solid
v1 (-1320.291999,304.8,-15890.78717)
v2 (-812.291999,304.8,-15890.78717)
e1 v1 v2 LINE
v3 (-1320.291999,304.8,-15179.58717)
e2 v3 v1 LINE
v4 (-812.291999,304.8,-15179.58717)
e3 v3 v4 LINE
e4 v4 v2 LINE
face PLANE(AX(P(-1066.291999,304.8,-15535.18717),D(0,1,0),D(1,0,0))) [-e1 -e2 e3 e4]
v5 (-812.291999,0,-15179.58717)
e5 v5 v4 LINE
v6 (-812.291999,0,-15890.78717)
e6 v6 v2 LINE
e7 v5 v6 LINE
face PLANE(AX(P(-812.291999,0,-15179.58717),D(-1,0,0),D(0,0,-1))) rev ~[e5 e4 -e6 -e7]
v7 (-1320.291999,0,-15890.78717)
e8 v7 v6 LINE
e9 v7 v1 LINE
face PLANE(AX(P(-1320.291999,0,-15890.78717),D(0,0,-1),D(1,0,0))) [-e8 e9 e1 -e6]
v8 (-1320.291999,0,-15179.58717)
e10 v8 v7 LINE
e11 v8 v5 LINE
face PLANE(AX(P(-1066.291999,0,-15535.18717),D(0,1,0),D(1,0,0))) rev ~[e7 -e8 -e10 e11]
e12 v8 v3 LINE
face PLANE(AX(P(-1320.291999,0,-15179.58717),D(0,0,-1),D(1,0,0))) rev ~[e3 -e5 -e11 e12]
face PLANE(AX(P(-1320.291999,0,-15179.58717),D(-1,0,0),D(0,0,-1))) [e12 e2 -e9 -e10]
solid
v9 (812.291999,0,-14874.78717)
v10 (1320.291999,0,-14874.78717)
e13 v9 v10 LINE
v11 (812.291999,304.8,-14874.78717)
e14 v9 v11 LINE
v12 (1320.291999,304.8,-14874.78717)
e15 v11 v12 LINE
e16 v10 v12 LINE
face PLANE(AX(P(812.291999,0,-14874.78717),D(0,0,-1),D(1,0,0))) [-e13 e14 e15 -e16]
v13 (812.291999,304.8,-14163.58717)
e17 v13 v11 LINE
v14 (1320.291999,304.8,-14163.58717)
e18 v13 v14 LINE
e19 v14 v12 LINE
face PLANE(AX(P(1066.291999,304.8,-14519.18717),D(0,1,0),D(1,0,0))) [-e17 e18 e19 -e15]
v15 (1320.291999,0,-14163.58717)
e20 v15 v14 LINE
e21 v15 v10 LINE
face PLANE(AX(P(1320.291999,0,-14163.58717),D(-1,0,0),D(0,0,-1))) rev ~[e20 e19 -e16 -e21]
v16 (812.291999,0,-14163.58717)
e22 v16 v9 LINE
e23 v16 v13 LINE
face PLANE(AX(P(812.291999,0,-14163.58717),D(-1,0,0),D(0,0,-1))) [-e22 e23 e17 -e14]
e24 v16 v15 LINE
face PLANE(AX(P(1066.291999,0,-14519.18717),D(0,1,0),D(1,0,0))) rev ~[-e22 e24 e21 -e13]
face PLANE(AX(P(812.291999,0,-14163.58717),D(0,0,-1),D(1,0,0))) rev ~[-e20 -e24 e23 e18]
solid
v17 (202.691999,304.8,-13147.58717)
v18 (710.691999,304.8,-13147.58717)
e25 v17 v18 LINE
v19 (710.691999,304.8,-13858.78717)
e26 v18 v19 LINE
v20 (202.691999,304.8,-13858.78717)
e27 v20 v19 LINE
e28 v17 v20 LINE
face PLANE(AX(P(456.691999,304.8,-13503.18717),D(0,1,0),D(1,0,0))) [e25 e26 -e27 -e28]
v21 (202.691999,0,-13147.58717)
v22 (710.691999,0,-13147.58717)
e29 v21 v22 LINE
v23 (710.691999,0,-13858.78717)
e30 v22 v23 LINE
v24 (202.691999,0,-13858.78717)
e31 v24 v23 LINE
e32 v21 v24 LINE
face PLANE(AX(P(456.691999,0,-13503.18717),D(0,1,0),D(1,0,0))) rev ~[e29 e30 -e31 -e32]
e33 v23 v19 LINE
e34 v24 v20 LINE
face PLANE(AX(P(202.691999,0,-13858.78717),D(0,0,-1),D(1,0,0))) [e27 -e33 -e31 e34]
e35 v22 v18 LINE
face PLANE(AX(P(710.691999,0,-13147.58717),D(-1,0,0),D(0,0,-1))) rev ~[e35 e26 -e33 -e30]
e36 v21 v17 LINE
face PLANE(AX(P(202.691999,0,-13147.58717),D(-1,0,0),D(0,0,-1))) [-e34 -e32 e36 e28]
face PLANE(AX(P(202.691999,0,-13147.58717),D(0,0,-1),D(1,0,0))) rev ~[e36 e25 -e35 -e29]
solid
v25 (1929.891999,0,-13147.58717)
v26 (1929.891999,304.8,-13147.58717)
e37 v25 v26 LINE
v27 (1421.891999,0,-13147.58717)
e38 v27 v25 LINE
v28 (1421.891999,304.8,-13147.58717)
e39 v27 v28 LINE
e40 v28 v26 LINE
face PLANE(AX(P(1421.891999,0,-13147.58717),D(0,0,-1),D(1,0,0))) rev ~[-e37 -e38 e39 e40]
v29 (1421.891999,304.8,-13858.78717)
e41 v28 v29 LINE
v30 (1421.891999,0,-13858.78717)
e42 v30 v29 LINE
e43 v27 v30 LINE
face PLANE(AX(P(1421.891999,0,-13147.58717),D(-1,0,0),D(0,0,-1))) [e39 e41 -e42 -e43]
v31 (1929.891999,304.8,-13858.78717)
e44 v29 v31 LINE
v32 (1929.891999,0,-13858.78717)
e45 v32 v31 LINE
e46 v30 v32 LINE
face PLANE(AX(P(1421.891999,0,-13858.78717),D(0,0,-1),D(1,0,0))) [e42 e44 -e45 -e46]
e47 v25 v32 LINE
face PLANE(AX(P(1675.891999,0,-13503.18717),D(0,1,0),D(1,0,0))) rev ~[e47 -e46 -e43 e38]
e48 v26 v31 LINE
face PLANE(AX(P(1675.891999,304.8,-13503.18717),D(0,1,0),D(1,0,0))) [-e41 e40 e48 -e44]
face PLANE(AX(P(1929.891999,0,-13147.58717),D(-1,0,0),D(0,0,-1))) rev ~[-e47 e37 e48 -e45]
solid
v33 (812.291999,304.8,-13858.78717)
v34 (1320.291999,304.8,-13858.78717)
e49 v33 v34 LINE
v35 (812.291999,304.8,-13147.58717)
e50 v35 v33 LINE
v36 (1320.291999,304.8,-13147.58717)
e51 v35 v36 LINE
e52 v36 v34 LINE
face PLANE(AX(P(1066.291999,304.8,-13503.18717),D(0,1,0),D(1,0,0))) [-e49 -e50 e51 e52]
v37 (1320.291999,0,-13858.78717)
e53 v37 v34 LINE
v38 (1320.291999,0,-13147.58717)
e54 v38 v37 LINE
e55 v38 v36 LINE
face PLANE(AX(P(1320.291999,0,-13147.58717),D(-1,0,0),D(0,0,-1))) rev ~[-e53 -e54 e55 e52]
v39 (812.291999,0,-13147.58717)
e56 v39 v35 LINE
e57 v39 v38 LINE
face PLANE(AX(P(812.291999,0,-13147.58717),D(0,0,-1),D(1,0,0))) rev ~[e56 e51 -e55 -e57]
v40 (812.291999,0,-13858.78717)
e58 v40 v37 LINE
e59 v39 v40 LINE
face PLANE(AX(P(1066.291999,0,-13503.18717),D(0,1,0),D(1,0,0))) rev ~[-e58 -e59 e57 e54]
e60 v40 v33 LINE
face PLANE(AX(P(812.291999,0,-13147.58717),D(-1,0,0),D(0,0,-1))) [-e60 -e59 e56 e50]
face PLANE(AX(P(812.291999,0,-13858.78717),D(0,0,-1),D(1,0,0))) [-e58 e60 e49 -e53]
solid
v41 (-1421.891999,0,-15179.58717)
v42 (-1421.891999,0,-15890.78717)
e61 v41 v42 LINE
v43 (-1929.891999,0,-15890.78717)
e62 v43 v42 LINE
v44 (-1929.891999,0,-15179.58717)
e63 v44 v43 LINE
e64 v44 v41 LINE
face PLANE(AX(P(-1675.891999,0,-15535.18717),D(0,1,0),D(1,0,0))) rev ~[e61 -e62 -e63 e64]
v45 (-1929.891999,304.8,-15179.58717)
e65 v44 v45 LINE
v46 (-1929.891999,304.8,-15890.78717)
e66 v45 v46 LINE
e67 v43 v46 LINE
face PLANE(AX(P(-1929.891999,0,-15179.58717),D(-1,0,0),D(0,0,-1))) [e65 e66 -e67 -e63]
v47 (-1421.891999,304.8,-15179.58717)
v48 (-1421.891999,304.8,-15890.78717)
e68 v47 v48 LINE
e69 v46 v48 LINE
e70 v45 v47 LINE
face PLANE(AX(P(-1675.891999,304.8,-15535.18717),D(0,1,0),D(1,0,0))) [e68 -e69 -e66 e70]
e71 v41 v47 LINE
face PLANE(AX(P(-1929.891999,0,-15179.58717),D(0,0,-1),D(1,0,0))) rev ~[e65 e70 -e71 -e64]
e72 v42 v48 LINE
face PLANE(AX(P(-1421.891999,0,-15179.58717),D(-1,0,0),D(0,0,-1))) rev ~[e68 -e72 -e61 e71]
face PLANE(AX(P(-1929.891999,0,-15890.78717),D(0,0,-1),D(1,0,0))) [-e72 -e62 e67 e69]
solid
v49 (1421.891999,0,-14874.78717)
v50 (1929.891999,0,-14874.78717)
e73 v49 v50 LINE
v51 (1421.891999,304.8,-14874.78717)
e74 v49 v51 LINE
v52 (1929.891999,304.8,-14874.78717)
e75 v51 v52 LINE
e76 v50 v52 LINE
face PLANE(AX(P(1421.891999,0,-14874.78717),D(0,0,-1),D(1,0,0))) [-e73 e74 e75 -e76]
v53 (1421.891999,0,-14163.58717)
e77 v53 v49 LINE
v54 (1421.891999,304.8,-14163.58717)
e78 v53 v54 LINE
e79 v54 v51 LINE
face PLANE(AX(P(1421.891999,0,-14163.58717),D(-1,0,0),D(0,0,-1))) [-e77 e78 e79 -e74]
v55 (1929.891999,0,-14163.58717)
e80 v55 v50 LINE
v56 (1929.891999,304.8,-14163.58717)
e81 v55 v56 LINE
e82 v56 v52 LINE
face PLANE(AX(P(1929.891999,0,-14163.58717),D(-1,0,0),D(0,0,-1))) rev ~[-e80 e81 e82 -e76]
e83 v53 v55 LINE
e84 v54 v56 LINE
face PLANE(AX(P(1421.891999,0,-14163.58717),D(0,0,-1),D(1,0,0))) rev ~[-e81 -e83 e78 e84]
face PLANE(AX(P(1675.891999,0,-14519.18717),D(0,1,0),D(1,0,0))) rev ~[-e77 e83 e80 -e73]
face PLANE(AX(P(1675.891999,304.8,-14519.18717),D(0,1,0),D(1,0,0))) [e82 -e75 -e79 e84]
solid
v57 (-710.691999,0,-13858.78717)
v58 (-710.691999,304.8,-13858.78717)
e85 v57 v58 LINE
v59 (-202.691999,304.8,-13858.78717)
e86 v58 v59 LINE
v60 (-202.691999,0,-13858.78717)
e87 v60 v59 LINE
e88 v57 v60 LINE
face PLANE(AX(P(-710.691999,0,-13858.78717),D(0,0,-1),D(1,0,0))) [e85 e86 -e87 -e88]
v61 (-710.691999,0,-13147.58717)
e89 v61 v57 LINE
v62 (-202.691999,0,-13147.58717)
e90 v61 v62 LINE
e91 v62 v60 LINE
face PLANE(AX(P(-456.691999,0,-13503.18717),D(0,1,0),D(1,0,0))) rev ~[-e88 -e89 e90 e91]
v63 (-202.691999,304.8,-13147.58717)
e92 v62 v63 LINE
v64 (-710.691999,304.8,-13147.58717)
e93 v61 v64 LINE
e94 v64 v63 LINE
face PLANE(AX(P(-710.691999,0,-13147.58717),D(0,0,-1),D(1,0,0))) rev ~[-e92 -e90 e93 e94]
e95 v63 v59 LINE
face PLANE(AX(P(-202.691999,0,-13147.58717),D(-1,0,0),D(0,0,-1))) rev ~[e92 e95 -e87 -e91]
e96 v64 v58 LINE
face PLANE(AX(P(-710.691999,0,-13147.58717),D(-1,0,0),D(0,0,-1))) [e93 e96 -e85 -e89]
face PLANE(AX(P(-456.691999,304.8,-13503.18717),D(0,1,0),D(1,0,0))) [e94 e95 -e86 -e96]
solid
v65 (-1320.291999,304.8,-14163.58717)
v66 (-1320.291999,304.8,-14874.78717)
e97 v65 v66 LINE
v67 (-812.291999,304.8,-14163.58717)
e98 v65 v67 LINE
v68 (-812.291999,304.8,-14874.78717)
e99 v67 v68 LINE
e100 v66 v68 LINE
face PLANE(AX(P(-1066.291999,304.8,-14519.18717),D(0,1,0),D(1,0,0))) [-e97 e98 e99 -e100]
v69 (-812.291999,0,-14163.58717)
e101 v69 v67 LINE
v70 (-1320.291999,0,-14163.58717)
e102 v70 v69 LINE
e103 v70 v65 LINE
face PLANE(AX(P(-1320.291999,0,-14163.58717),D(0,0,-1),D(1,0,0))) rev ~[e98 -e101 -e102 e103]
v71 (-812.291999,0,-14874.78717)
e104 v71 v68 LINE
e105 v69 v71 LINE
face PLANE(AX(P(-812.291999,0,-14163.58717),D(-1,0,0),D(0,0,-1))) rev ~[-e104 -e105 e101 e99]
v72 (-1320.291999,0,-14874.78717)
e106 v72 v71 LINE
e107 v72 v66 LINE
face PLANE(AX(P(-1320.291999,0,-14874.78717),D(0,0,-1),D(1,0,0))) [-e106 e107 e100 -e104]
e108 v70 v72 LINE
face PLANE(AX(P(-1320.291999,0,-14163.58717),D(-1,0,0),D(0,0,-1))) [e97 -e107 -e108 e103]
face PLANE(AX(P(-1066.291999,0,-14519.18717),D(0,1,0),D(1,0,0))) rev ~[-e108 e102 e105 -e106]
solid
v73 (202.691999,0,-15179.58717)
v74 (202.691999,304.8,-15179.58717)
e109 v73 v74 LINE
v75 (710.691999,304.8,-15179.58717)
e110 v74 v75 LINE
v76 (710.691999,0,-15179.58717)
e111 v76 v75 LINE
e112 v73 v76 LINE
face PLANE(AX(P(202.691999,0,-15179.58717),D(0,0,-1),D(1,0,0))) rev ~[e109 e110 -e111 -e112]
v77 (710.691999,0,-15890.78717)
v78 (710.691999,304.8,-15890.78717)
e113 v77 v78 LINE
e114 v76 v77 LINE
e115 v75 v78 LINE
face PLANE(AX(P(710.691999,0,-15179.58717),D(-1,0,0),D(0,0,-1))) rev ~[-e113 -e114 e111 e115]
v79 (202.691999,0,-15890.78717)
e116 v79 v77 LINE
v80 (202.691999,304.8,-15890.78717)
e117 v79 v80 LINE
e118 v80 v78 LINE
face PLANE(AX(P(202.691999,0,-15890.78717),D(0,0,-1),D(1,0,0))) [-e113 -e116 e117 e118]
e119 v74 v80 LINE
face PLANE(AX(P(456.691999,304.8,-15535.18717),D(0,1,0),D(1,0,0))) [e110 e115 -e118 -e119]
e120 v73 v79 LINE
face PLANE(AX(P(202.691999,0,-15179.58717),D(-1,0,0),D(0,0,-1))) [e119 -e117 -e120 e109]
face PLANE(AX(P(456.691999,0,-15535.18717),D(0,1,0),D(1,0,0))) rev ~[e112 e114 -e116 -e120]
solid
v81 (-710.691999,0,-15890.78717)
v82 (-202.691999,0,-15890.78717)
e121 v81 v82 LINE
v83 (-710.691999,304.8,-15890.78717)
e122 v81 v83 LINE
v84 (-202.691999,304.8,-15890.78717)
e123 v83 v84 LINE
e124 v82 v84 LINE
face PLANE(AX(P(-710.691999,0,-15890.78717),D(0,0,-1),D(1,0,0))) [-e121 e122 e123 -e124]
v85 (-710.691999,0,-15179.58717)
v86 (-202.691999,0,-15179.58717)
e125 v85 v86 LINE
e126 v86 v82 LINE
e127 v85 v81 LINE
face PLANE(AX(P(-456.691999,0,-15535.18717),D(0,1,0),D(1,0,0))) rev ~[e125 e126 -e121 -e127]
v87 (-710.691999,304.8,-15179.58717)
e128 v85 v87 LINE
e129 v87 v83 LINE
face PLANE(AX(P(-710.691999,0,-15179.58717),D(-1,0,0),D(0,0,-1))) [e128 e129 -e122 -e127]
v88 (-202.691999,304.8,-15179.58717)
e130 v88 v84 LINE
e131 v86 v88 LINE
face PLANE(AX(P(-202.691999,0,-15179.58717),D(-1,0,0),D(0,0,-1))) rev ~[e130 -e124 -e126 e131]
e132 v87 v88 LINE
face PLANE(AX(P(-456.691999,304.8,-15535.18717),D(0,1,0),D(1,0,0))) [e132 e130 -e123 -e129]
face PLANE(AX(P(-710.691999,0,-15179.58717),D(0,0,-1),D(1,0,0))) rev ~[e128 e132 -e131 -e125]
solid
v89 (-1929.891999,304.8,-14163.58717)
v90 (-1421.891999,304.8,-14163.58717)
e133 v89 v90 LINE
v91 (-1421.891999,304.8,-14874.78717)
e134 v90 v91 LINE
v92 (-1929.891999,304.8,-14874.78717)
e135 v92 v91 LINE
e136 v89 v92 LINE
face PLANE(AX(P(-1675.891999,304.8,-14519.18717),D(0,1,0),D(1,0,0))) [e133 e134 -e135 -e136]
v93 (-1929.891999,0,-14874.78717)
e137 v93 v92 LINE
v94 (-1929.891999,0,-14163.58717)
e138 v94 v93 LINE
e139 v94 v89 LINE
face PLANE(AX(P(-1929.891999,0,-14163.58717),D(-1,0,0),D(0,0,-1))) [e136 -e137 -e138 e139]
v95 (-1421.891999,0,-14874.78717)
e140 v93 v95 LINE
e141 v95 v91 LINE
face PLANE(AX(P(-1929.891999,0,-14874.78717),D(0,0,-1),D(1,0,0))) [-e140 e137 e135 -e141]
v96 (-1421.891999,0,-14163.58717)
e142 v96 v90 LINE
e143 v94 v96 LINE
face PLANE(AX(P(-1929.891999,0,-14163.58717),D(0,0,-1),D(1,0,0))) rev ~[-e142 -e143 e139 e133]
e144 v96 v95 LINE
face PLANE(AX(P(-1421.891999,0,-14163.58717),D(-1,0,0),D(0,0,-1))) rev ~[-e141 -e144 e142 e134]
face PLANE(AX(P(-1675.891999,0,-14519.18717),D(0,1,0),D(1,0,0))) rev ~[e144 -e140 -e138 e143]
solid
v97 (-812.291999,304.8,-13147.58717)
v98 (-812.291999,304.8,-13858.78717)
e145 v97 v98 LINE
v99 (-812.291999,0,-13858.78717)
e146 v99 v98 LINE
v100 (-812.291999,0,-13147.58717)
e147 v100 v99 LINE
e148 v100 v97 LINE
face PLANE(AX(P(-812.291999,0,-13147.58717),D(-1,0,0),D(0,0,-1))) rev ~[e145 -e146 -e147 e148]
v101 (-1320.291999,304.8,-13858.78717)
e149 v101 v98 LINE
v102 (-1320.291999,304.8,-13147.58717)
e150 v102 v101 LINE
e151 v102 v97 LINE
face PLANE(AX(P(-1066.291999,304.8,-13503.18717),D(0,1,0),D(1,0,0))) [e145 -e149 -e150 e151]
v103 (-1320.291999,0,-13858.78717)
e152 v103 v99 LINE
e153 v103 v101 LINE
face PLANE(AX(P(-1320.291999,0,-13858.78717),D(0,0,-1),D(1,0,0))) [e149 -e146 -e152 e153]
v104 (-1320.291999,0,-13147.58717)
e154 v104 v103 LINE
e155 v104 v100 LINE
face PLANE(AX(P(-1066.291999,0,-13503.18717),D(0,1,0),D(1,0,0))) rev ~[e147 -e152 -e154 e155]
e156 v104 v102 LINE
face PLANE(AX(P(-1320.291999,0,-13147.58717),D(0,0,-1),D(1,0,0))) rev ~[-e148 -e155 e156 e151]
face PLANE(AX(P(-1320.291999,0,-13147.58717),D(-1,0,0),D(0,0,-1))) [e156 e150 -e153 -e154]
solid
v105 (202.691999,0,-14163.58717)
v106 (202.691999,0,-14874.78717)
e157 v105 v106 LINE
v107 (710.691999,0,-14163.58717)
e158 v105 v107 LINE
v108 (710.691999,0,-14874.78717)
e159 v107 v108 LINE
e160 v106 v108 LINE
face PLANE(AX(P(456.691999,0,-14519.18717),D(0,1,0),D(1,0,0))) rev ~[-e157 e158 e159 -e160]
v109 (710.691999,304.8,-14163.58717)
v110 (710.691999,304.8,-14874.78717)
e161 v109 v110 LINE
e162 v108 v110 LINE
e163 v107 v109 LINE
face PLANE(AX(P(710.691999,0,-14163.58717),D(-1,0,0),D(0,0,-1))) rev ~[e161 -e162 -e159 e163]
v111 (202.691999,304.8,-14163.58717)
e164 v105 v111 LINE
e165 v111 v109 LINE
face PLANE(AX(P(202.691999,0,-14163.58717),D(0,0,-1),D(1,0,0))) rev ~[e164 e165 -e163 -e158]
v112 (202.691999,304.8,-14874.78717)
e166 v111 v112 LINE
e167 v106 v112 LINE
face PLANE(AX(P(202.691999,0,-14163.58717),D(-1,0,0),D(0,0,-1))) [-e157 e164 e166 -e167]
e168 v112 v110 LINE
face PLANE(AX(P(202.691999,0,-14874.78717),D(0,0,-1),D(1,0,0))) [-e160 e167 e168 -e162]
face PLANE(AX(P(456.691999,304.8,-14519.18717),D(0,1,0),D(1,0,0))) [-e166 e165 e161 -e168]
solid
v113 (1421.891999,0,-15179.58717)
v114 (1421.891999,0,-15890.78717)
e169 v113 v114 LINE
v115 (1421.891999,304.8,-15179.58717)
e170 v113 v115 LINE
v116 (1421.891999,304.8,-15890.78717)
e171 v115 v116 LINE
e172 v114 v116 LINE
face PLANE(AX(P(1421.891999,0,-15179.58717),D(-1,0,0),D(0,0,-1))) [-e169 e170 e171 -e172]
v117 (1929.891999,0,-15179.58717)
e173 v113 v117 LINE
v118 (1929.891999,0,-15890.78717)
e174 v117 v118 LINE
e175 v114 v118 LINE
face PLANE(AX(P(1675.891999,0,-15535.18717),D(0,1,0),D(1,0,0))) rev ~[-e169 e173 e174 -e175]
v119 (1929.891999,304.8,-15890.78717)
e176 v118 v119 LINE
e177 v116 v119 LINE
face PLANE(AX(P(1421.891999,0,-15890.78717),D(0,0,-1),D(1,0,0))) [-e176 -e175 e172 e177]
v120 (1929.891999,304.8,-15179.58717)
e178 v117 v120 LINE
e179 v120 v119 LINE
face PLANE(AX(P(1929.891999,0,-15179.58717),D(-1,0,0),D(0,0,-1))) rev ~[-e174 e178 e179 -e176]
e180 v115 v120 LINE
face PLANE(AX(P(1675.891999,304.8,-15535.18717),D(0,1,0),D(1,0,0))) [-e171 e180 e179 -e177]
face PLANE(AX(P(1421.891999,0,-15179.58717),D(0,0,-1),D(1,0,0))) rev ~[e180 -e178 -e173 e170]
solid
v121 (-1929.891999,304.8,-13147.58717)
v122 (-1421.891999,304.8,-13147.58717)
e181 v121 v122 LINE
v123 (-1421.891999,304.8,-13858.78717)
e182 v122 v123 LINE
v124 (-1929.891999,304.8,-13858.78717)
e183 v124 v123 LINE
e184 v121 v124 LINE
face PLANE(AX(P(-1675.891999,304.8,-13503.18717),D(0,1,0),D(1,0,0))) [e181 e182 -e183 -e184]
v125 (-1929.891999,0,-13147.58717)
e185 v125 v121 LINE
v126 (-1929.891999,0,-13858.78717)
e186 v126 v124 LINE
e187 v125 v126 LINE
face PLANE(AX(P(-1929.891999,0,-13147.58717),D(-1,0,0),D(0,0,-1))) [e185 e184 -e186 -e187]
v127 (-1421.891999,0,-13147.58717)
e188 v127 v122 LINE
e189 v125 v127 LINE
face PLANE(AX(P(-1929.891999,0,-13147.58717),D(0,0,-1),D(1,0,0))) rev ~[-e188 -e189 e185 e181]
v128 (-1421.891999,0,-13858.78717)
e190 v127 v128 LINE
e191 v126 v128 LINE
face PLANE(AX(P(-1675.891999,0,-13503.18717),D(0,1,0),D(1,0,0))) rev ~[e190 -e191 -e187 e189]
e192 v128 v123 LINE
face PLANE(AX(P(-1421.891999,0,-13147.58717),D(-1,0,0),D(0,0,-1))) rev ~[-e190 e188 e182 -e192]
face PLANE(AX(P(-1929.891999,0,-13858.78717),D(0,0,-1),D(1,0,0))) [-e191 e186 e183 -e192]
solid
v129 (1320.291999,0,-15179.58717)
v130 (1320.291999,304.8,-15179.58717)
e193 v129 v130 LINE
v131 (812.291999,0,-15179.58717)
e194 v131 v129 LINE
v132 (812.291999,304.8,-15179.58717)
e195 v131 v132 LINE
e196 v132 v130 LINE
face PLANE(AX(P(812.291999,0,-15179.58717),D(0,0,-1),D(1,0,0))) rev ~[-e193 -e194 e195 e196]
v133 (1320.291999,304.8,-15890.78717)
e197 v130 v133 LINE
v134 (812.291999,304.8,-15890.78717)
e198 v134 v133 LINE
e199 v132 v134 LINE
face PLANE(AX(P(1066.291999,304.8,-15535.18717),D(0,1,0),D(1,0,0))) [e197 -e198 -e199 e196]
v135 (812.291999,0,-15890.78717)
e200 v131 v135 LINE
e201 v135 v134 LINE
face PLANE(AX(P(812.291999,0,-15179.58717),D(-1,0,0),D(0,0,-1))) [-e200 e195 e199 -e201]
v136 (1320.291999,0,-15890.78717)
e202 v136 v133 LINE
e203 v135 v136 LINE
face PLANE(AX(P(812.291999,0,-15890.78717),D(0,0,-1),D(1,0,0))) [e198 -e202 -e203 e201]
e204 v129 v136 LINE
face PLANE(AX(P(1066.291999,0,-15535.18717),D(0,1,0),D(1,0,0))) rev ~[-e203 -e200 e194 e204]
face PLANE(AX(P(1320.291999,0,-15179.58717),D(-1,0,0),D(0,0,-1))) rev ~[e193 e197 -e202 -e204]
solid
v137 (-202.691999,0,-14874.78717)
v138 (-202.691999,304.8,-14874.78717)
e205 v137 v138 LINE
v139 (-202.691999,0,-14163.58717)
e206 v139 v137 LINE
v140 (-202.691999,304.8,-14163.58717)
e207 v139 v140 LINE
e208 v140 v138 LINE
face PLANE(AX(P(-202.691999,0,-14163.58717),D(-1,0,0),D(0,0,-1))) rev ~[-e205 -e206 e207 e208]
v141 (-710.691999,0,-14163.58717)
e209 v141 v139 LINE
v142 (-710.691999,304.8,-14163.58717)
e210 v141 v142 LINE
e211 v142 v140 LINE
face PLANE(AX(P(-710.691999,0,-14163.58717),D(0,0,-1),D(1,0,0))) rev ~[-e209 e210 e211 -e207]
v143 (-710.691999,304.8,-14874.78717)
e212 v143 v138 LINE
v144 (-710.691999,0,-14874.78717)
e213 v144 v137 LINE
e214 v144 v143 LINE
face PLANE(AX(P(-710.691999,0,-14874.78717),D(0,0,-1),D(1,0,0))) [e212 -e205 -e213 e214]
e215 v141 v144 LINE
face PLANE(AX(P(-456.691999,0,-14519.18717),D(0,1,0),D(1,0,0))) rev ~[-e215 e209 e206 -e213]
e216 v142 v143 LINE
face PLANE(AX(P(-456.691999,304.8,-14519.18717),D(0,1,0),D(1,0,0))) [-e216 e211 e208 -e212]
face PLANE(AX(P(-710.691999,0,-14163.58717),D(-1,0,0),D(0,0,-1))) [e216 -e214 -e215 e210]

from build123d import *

# Parameters (mm, degrees)
FIRST_CLASS_SEAT_2_W       = 508.000000102
FIRST_CLASS_SEAT_2_H       = 711.199999899
FIRST_CLASS_SEAT_DEPTH     = 304.8
FIRST_CLASS_SEAT_2_2_DEPTH = 304.8
FIRST_CLASS_SEAT_2_W_2     = 508.000000101
FIRST_CLASS_SEAT_3_DEPTH   = 304.8
FIRST_CLASS_SEAT_2_H_2     = 711.199999898
FIRST_CLASS_SEAT_4_DEPTH   = 304.8
FIRST_CLASS_SEAT_5_DEPTH   = 304.8
FIRST_CLASS_SEAT_6_DEPTH   = 304.8
FIRST_CLASS_SEAT_7_DEPTH   = 304.8
FIRST_CLASS_SEAT_8_DEPTH   = 304.8
FIRST_CLASS_SEAT_9_DEPTH   = 304.8
FIRST_CLASS_SEAT_10_DEPTH  = 304.8
FIRST_CLASS_SEAT_11_DEPTH  = 304.8
FIRST_CLASS_SEAT_12_DEPTH  = 304.8
FIRST_CLASS_SEAT_13_DEPTH  = 304.8
FIRST_CLASS_SEAT_14_DEPTH  = 304.8
FIRST_CLASS_SEAT_15_DEPTH  = 304.8
FIRST_CLASS_SEAT_16_DEPTH  = 304.8
FIRST_CLASS_SEAT_17_DEPTH  = 304.8
FIRST_CLASS_SEAT_18_DEPTH  = 304.8


with BuildPart() as part:
    # First Class Seat 2 → First Class Seat (new body)
    with BuildSketch(Plane(origin=(0, 0, 0), x_dir=(1, 0, 0), z_dir=(0, 1, 0))):
        with Locations((-1066.291998811, 13503.187169787)):
            Rectangle(FIRST_CLASS_SEAT_2_W, FIRST_CLASS_SEAT_2_H)
    extrude(amount=FIRST_CLASS_SEAT_DEPTH)


with BuildPart() as body_2:
    # First Class Seat 2 → First Class Seat 2 2 (new body)
    with BuildSketch(Plane(origin=(0, 0, 0), x_dir=(1, 0, 0), z_dir=(0, 1, 0))):
        with Locations((-1675.891998933, 13503.187169787)):
            Rectangle(FIRST_CLASS_SEAT_2_W, FIRST_CLASS_SEAT_2_H)
    extrude(amount=FIRST_CLASS_SEAT_2_2_DEPTH)


with BuildPart() as body_3:
    # First Class Seat 2 → First Class Seat 3 (new body)
    with BuildSketch(Plane(origin=(0, 0, 0), x_dir=(1, 0, 0), z_dir=(0, 1, 0))):
        with Locations((-456.691998689, 13503.187169787)):
            Rectangle(FIRST_CLASS_SEAT_2_W_2, FIRST_CLASS_SEAT_2_H)
    extrude(amount=FIRST_CLASS_SEAT_3_DEPTH)


with BuildPart() as body_4:
    # First Class Seat 2 → First Class Seat 4 (new body)
    with BuildSketch(Plane(origin=(0, 0, 0), x_dir=(1, 0, 0), z_dir=(0, 1, 0))):
        with Locations((-1066.291998811, 14519.187169685)):
            Rectangle(FIRST_CLASS_SEAT_2_W, FIRST_CLASS_SEAT_2_H_2)
    extrude(amount=FIRST_CLASS_SEAT_4_DEPTH)


with BuildPart() as body_5:
    # First Class Seat 2 → First Class Seat 5 (new body)
    with BuildSketch(Plane(origin=(0, 0, 0), x_dir=(1, 0, 0), z_dir=(0, 1, 0))):
        with Locations((-456.691998689, 14519.187169685)):
            Rectangle(FIRST_CLASS_SEAT_2_W_2, FIRST_CLASS_SEAT_2_H_2)
    extrude(amount=FIRST_CLASS_SEAT_5_DEPTH)


with BuildPart() as body_6:
    # First Class Seat 2 → First Class Seat 6 (new body)
    with BuildSketch(Plane(origin=(0, 0, 0), x_dir=(1, 0, 0), z_dir=(0, 1, 0))):
        with Locations((-1066.291998811, 15535.187169583)):
            Rectangle(FIRST_CLASS_SEAT_2_W, FIRST_CLASS_SEAT_2_H_2)
    extrude(amount=FIRST_CLASS_SEAT_6_DEPTH)


with BuildPart() as body_7:
    # First Class Seat 2 → First Class Seat 7 (new body)
    with BuildSketch(Plane(origin=(0, 0, 0), x_dir=(1, 0, 0), z_dir=(0, 1, 0))):
        with Locations((-456.691998689, 15535.187169583)):
            Rectangle(FIRST_CLASS_SEAT_2_W_2, FIRST_CLASS_SEAT_2_H_2)
    extrude(amount=FIRST_CLASS_SEAT_7_DEPTH)


with BuildPart() as body_8:
    # First Class Seat 2 → First Class Seat 8 (new body)
    with BuildSketch(Plane(origin=(0, 0, 0), x_dir=(1, 0, 0), z_dir=(0, 1, 0))):
        with Locations((-1675.891998933, 14519.187169685)):
            Rectangle(FIRST_CLASS_SEAT_2_W, FIRST_CLASS_SEAT_2_H_2)
    extrude(amount=FIRST_CLASS_SEAT_8_DEPTH)


with BuildPart() as body_9:
    # First Class Seat 2 → First Class Seat 9 (new body)
    with BuildSketch(Plane(origin=(0, 0, 0), x_dir=(1, 0, 0), z_dir=(0, 1, 0))):
        with Locations((-1675.891998933, 15535.187169583)):
            Rectangle(FIRST_CLASS_SEAT_2_W, FIRST_CLASS_SEAT_2_H_2)
    extrude(amount=FIRST_CLASS_SEAT_9_DEPTH)


with BuildPart() as body_10:
    # First Class Seat 2 → First Class Seat 10 (new body)
    with BuildSketch(Plane(origin=(0, 0, 0), x_dir=(1, 0, 0), z_dir=(0, 1, 0))):
        with Locations((1675.891998933, 15535.187169583)):
            Rectangle(FIRST_CLASS_SEAT_2_W, FIRST_CLASS_SEAT_2_H_2)
    extrude(amount=FIRST_CLASS_SEAT_10_DEPTH)


with BuildPart() as body_11:
    # First Class Seat 2 → First Class Seat 11 (new body)
    with BuildSketch(Plane(origin=(0, 0, 0), x_dir=(1, 0, 0), z_dir=(0, 1, 0))):
        with Locations((1675.891998933, 14519.187169685)):
            Rectangle(FIRST_CLASS_SEAT_2_W, FIRST_CLASS_SEAT_2_H_2)
    extrude(amount=FIRST_CLASS_SEAT_11_DEPTH)


with BuildPart() as body_12:
    # First Class Seat 2 → First Class Seat 12 (new body)
    with BuildSketch(Plane(origin=(0, 0, 0), x_dir=(1, 0, 0), z_dir=(0, 1, 0))):
        with Locations((456.691998689, 15535.187169583)):
            Rectangle(FIRST_CLASS_SEAT_2_W_2, FIRST_CLASS_SEAT_2_H_2)
    extrude(amount=FIRST_CLASS_SEAT_12_DEPTH)


with BuildPart() as body_13:
    # First Class Seat 2 → First Class Seat 13 (new body)
    with BuildSketch(Plane(origin=(0, 0, 0), x_dir=(1, 0, 0), z_dir=(0, 1, 0))):
        with Locations((1066.291998811, 15535.187169583)):
            Rectangle(FIRST_CLASS_SEAT_2_W, FIRST_CLASS_SEAT_2_H_2)
    extrude(amount=FIRST_CLASS_SEAT_13_DEPTH)


with BuildPart() as body_14:
    # First Class Seat 2 → First Class Seat 14 (new body)
    with BuildSketch(Plane(origin=(0, 0, 0), x_dir=(1, 0, 0), z_dir=(0, 1, 0))):
        with Locations((456.691998689, 14519.187169685)):
            Rectangle(FIRST_CLASS_SEAT_2_W_2, FIRST_CLASS_SEAT_2_H_2)
    extrude(amount=FIRST_CLASS_SEAT_14_DEPTH)


with BuildPart() as body_15:
    # First Class Seat 2 → First Class Seat 15 (new body)
    with BuildSketch(Plane(origin=(0, 0, 0), x_dir=(1, 0, 0), z_dir=(0, 1, 0))):
        with Locations((1066.291998811, 14519.187169685)):
            Rectangle(FIRST_CLASS_SEAT_2_W, FIRST_CLASS_SEAT_2_H_2)
    extrude(amount=FIRST_CLASS_SEAT_15_DEPTH)


with BuildPart() as body_16:
    # First Class Seat 2 → First Class Seat 16 (new body)
    with BuildSketch(Plane(origin=(0, 0, 0), x_dir=(1, 0, 0), z_dir=(0, 1, 0))):
        with Locations((456.691998689, 13503.187169787)):
            Rectangle(FIRST_CLASS_SEAT_2_W_2, FIRST_CLASS_SEAT_2_H)
    extrude(amount=FIRST_CLASS_SEAT_16_DEPTH)


with BuildPart() as body_17:
    # First Class Seat 2 → First Class Seat 17 (new body)
    with BuildSketch(Plane(origin=(0, 0, 0), x_dir=(1, 0, 0), z_dir=(0, 1, 0))):
        with Locations((1066.291998811, 13503.187169787)):
            Rectangle(FIRST_CLASS_SEAT_2_W, FIRST_CLASS_SEAT_2_H)
    extrude(amount=FIRST_CLASS_SEAT_17_DEPTH)


with BuildPart() as body_18:
    # First Class Seat 2 → First Class Seat 18 (new body)
    with BuildSketch(Plane(origin=(0, 0, 0), x_dir=(1, 0, 0), z_dir=(0, 1, 0))):
        with Locations((1675.891998933, 13503.187169787)):
            Rectangle(FIRST_CLASS_SEAT_2_W, FIRST_CLASS_SEAT_2_H)
    extrude(amount=FIRST_CLASS_SEAT_18_DEPTH)


solid = Compound([part.part, body_2.part, body_3.part, body_4.part, body_5.part, body_6.part, body_7.part, body_8.part, body_9.part, body_10.part, body_11.part, body_12.part, body_13.part, body_14.part, body_15.part, body_16.part, body_17.part, body_18.part])
